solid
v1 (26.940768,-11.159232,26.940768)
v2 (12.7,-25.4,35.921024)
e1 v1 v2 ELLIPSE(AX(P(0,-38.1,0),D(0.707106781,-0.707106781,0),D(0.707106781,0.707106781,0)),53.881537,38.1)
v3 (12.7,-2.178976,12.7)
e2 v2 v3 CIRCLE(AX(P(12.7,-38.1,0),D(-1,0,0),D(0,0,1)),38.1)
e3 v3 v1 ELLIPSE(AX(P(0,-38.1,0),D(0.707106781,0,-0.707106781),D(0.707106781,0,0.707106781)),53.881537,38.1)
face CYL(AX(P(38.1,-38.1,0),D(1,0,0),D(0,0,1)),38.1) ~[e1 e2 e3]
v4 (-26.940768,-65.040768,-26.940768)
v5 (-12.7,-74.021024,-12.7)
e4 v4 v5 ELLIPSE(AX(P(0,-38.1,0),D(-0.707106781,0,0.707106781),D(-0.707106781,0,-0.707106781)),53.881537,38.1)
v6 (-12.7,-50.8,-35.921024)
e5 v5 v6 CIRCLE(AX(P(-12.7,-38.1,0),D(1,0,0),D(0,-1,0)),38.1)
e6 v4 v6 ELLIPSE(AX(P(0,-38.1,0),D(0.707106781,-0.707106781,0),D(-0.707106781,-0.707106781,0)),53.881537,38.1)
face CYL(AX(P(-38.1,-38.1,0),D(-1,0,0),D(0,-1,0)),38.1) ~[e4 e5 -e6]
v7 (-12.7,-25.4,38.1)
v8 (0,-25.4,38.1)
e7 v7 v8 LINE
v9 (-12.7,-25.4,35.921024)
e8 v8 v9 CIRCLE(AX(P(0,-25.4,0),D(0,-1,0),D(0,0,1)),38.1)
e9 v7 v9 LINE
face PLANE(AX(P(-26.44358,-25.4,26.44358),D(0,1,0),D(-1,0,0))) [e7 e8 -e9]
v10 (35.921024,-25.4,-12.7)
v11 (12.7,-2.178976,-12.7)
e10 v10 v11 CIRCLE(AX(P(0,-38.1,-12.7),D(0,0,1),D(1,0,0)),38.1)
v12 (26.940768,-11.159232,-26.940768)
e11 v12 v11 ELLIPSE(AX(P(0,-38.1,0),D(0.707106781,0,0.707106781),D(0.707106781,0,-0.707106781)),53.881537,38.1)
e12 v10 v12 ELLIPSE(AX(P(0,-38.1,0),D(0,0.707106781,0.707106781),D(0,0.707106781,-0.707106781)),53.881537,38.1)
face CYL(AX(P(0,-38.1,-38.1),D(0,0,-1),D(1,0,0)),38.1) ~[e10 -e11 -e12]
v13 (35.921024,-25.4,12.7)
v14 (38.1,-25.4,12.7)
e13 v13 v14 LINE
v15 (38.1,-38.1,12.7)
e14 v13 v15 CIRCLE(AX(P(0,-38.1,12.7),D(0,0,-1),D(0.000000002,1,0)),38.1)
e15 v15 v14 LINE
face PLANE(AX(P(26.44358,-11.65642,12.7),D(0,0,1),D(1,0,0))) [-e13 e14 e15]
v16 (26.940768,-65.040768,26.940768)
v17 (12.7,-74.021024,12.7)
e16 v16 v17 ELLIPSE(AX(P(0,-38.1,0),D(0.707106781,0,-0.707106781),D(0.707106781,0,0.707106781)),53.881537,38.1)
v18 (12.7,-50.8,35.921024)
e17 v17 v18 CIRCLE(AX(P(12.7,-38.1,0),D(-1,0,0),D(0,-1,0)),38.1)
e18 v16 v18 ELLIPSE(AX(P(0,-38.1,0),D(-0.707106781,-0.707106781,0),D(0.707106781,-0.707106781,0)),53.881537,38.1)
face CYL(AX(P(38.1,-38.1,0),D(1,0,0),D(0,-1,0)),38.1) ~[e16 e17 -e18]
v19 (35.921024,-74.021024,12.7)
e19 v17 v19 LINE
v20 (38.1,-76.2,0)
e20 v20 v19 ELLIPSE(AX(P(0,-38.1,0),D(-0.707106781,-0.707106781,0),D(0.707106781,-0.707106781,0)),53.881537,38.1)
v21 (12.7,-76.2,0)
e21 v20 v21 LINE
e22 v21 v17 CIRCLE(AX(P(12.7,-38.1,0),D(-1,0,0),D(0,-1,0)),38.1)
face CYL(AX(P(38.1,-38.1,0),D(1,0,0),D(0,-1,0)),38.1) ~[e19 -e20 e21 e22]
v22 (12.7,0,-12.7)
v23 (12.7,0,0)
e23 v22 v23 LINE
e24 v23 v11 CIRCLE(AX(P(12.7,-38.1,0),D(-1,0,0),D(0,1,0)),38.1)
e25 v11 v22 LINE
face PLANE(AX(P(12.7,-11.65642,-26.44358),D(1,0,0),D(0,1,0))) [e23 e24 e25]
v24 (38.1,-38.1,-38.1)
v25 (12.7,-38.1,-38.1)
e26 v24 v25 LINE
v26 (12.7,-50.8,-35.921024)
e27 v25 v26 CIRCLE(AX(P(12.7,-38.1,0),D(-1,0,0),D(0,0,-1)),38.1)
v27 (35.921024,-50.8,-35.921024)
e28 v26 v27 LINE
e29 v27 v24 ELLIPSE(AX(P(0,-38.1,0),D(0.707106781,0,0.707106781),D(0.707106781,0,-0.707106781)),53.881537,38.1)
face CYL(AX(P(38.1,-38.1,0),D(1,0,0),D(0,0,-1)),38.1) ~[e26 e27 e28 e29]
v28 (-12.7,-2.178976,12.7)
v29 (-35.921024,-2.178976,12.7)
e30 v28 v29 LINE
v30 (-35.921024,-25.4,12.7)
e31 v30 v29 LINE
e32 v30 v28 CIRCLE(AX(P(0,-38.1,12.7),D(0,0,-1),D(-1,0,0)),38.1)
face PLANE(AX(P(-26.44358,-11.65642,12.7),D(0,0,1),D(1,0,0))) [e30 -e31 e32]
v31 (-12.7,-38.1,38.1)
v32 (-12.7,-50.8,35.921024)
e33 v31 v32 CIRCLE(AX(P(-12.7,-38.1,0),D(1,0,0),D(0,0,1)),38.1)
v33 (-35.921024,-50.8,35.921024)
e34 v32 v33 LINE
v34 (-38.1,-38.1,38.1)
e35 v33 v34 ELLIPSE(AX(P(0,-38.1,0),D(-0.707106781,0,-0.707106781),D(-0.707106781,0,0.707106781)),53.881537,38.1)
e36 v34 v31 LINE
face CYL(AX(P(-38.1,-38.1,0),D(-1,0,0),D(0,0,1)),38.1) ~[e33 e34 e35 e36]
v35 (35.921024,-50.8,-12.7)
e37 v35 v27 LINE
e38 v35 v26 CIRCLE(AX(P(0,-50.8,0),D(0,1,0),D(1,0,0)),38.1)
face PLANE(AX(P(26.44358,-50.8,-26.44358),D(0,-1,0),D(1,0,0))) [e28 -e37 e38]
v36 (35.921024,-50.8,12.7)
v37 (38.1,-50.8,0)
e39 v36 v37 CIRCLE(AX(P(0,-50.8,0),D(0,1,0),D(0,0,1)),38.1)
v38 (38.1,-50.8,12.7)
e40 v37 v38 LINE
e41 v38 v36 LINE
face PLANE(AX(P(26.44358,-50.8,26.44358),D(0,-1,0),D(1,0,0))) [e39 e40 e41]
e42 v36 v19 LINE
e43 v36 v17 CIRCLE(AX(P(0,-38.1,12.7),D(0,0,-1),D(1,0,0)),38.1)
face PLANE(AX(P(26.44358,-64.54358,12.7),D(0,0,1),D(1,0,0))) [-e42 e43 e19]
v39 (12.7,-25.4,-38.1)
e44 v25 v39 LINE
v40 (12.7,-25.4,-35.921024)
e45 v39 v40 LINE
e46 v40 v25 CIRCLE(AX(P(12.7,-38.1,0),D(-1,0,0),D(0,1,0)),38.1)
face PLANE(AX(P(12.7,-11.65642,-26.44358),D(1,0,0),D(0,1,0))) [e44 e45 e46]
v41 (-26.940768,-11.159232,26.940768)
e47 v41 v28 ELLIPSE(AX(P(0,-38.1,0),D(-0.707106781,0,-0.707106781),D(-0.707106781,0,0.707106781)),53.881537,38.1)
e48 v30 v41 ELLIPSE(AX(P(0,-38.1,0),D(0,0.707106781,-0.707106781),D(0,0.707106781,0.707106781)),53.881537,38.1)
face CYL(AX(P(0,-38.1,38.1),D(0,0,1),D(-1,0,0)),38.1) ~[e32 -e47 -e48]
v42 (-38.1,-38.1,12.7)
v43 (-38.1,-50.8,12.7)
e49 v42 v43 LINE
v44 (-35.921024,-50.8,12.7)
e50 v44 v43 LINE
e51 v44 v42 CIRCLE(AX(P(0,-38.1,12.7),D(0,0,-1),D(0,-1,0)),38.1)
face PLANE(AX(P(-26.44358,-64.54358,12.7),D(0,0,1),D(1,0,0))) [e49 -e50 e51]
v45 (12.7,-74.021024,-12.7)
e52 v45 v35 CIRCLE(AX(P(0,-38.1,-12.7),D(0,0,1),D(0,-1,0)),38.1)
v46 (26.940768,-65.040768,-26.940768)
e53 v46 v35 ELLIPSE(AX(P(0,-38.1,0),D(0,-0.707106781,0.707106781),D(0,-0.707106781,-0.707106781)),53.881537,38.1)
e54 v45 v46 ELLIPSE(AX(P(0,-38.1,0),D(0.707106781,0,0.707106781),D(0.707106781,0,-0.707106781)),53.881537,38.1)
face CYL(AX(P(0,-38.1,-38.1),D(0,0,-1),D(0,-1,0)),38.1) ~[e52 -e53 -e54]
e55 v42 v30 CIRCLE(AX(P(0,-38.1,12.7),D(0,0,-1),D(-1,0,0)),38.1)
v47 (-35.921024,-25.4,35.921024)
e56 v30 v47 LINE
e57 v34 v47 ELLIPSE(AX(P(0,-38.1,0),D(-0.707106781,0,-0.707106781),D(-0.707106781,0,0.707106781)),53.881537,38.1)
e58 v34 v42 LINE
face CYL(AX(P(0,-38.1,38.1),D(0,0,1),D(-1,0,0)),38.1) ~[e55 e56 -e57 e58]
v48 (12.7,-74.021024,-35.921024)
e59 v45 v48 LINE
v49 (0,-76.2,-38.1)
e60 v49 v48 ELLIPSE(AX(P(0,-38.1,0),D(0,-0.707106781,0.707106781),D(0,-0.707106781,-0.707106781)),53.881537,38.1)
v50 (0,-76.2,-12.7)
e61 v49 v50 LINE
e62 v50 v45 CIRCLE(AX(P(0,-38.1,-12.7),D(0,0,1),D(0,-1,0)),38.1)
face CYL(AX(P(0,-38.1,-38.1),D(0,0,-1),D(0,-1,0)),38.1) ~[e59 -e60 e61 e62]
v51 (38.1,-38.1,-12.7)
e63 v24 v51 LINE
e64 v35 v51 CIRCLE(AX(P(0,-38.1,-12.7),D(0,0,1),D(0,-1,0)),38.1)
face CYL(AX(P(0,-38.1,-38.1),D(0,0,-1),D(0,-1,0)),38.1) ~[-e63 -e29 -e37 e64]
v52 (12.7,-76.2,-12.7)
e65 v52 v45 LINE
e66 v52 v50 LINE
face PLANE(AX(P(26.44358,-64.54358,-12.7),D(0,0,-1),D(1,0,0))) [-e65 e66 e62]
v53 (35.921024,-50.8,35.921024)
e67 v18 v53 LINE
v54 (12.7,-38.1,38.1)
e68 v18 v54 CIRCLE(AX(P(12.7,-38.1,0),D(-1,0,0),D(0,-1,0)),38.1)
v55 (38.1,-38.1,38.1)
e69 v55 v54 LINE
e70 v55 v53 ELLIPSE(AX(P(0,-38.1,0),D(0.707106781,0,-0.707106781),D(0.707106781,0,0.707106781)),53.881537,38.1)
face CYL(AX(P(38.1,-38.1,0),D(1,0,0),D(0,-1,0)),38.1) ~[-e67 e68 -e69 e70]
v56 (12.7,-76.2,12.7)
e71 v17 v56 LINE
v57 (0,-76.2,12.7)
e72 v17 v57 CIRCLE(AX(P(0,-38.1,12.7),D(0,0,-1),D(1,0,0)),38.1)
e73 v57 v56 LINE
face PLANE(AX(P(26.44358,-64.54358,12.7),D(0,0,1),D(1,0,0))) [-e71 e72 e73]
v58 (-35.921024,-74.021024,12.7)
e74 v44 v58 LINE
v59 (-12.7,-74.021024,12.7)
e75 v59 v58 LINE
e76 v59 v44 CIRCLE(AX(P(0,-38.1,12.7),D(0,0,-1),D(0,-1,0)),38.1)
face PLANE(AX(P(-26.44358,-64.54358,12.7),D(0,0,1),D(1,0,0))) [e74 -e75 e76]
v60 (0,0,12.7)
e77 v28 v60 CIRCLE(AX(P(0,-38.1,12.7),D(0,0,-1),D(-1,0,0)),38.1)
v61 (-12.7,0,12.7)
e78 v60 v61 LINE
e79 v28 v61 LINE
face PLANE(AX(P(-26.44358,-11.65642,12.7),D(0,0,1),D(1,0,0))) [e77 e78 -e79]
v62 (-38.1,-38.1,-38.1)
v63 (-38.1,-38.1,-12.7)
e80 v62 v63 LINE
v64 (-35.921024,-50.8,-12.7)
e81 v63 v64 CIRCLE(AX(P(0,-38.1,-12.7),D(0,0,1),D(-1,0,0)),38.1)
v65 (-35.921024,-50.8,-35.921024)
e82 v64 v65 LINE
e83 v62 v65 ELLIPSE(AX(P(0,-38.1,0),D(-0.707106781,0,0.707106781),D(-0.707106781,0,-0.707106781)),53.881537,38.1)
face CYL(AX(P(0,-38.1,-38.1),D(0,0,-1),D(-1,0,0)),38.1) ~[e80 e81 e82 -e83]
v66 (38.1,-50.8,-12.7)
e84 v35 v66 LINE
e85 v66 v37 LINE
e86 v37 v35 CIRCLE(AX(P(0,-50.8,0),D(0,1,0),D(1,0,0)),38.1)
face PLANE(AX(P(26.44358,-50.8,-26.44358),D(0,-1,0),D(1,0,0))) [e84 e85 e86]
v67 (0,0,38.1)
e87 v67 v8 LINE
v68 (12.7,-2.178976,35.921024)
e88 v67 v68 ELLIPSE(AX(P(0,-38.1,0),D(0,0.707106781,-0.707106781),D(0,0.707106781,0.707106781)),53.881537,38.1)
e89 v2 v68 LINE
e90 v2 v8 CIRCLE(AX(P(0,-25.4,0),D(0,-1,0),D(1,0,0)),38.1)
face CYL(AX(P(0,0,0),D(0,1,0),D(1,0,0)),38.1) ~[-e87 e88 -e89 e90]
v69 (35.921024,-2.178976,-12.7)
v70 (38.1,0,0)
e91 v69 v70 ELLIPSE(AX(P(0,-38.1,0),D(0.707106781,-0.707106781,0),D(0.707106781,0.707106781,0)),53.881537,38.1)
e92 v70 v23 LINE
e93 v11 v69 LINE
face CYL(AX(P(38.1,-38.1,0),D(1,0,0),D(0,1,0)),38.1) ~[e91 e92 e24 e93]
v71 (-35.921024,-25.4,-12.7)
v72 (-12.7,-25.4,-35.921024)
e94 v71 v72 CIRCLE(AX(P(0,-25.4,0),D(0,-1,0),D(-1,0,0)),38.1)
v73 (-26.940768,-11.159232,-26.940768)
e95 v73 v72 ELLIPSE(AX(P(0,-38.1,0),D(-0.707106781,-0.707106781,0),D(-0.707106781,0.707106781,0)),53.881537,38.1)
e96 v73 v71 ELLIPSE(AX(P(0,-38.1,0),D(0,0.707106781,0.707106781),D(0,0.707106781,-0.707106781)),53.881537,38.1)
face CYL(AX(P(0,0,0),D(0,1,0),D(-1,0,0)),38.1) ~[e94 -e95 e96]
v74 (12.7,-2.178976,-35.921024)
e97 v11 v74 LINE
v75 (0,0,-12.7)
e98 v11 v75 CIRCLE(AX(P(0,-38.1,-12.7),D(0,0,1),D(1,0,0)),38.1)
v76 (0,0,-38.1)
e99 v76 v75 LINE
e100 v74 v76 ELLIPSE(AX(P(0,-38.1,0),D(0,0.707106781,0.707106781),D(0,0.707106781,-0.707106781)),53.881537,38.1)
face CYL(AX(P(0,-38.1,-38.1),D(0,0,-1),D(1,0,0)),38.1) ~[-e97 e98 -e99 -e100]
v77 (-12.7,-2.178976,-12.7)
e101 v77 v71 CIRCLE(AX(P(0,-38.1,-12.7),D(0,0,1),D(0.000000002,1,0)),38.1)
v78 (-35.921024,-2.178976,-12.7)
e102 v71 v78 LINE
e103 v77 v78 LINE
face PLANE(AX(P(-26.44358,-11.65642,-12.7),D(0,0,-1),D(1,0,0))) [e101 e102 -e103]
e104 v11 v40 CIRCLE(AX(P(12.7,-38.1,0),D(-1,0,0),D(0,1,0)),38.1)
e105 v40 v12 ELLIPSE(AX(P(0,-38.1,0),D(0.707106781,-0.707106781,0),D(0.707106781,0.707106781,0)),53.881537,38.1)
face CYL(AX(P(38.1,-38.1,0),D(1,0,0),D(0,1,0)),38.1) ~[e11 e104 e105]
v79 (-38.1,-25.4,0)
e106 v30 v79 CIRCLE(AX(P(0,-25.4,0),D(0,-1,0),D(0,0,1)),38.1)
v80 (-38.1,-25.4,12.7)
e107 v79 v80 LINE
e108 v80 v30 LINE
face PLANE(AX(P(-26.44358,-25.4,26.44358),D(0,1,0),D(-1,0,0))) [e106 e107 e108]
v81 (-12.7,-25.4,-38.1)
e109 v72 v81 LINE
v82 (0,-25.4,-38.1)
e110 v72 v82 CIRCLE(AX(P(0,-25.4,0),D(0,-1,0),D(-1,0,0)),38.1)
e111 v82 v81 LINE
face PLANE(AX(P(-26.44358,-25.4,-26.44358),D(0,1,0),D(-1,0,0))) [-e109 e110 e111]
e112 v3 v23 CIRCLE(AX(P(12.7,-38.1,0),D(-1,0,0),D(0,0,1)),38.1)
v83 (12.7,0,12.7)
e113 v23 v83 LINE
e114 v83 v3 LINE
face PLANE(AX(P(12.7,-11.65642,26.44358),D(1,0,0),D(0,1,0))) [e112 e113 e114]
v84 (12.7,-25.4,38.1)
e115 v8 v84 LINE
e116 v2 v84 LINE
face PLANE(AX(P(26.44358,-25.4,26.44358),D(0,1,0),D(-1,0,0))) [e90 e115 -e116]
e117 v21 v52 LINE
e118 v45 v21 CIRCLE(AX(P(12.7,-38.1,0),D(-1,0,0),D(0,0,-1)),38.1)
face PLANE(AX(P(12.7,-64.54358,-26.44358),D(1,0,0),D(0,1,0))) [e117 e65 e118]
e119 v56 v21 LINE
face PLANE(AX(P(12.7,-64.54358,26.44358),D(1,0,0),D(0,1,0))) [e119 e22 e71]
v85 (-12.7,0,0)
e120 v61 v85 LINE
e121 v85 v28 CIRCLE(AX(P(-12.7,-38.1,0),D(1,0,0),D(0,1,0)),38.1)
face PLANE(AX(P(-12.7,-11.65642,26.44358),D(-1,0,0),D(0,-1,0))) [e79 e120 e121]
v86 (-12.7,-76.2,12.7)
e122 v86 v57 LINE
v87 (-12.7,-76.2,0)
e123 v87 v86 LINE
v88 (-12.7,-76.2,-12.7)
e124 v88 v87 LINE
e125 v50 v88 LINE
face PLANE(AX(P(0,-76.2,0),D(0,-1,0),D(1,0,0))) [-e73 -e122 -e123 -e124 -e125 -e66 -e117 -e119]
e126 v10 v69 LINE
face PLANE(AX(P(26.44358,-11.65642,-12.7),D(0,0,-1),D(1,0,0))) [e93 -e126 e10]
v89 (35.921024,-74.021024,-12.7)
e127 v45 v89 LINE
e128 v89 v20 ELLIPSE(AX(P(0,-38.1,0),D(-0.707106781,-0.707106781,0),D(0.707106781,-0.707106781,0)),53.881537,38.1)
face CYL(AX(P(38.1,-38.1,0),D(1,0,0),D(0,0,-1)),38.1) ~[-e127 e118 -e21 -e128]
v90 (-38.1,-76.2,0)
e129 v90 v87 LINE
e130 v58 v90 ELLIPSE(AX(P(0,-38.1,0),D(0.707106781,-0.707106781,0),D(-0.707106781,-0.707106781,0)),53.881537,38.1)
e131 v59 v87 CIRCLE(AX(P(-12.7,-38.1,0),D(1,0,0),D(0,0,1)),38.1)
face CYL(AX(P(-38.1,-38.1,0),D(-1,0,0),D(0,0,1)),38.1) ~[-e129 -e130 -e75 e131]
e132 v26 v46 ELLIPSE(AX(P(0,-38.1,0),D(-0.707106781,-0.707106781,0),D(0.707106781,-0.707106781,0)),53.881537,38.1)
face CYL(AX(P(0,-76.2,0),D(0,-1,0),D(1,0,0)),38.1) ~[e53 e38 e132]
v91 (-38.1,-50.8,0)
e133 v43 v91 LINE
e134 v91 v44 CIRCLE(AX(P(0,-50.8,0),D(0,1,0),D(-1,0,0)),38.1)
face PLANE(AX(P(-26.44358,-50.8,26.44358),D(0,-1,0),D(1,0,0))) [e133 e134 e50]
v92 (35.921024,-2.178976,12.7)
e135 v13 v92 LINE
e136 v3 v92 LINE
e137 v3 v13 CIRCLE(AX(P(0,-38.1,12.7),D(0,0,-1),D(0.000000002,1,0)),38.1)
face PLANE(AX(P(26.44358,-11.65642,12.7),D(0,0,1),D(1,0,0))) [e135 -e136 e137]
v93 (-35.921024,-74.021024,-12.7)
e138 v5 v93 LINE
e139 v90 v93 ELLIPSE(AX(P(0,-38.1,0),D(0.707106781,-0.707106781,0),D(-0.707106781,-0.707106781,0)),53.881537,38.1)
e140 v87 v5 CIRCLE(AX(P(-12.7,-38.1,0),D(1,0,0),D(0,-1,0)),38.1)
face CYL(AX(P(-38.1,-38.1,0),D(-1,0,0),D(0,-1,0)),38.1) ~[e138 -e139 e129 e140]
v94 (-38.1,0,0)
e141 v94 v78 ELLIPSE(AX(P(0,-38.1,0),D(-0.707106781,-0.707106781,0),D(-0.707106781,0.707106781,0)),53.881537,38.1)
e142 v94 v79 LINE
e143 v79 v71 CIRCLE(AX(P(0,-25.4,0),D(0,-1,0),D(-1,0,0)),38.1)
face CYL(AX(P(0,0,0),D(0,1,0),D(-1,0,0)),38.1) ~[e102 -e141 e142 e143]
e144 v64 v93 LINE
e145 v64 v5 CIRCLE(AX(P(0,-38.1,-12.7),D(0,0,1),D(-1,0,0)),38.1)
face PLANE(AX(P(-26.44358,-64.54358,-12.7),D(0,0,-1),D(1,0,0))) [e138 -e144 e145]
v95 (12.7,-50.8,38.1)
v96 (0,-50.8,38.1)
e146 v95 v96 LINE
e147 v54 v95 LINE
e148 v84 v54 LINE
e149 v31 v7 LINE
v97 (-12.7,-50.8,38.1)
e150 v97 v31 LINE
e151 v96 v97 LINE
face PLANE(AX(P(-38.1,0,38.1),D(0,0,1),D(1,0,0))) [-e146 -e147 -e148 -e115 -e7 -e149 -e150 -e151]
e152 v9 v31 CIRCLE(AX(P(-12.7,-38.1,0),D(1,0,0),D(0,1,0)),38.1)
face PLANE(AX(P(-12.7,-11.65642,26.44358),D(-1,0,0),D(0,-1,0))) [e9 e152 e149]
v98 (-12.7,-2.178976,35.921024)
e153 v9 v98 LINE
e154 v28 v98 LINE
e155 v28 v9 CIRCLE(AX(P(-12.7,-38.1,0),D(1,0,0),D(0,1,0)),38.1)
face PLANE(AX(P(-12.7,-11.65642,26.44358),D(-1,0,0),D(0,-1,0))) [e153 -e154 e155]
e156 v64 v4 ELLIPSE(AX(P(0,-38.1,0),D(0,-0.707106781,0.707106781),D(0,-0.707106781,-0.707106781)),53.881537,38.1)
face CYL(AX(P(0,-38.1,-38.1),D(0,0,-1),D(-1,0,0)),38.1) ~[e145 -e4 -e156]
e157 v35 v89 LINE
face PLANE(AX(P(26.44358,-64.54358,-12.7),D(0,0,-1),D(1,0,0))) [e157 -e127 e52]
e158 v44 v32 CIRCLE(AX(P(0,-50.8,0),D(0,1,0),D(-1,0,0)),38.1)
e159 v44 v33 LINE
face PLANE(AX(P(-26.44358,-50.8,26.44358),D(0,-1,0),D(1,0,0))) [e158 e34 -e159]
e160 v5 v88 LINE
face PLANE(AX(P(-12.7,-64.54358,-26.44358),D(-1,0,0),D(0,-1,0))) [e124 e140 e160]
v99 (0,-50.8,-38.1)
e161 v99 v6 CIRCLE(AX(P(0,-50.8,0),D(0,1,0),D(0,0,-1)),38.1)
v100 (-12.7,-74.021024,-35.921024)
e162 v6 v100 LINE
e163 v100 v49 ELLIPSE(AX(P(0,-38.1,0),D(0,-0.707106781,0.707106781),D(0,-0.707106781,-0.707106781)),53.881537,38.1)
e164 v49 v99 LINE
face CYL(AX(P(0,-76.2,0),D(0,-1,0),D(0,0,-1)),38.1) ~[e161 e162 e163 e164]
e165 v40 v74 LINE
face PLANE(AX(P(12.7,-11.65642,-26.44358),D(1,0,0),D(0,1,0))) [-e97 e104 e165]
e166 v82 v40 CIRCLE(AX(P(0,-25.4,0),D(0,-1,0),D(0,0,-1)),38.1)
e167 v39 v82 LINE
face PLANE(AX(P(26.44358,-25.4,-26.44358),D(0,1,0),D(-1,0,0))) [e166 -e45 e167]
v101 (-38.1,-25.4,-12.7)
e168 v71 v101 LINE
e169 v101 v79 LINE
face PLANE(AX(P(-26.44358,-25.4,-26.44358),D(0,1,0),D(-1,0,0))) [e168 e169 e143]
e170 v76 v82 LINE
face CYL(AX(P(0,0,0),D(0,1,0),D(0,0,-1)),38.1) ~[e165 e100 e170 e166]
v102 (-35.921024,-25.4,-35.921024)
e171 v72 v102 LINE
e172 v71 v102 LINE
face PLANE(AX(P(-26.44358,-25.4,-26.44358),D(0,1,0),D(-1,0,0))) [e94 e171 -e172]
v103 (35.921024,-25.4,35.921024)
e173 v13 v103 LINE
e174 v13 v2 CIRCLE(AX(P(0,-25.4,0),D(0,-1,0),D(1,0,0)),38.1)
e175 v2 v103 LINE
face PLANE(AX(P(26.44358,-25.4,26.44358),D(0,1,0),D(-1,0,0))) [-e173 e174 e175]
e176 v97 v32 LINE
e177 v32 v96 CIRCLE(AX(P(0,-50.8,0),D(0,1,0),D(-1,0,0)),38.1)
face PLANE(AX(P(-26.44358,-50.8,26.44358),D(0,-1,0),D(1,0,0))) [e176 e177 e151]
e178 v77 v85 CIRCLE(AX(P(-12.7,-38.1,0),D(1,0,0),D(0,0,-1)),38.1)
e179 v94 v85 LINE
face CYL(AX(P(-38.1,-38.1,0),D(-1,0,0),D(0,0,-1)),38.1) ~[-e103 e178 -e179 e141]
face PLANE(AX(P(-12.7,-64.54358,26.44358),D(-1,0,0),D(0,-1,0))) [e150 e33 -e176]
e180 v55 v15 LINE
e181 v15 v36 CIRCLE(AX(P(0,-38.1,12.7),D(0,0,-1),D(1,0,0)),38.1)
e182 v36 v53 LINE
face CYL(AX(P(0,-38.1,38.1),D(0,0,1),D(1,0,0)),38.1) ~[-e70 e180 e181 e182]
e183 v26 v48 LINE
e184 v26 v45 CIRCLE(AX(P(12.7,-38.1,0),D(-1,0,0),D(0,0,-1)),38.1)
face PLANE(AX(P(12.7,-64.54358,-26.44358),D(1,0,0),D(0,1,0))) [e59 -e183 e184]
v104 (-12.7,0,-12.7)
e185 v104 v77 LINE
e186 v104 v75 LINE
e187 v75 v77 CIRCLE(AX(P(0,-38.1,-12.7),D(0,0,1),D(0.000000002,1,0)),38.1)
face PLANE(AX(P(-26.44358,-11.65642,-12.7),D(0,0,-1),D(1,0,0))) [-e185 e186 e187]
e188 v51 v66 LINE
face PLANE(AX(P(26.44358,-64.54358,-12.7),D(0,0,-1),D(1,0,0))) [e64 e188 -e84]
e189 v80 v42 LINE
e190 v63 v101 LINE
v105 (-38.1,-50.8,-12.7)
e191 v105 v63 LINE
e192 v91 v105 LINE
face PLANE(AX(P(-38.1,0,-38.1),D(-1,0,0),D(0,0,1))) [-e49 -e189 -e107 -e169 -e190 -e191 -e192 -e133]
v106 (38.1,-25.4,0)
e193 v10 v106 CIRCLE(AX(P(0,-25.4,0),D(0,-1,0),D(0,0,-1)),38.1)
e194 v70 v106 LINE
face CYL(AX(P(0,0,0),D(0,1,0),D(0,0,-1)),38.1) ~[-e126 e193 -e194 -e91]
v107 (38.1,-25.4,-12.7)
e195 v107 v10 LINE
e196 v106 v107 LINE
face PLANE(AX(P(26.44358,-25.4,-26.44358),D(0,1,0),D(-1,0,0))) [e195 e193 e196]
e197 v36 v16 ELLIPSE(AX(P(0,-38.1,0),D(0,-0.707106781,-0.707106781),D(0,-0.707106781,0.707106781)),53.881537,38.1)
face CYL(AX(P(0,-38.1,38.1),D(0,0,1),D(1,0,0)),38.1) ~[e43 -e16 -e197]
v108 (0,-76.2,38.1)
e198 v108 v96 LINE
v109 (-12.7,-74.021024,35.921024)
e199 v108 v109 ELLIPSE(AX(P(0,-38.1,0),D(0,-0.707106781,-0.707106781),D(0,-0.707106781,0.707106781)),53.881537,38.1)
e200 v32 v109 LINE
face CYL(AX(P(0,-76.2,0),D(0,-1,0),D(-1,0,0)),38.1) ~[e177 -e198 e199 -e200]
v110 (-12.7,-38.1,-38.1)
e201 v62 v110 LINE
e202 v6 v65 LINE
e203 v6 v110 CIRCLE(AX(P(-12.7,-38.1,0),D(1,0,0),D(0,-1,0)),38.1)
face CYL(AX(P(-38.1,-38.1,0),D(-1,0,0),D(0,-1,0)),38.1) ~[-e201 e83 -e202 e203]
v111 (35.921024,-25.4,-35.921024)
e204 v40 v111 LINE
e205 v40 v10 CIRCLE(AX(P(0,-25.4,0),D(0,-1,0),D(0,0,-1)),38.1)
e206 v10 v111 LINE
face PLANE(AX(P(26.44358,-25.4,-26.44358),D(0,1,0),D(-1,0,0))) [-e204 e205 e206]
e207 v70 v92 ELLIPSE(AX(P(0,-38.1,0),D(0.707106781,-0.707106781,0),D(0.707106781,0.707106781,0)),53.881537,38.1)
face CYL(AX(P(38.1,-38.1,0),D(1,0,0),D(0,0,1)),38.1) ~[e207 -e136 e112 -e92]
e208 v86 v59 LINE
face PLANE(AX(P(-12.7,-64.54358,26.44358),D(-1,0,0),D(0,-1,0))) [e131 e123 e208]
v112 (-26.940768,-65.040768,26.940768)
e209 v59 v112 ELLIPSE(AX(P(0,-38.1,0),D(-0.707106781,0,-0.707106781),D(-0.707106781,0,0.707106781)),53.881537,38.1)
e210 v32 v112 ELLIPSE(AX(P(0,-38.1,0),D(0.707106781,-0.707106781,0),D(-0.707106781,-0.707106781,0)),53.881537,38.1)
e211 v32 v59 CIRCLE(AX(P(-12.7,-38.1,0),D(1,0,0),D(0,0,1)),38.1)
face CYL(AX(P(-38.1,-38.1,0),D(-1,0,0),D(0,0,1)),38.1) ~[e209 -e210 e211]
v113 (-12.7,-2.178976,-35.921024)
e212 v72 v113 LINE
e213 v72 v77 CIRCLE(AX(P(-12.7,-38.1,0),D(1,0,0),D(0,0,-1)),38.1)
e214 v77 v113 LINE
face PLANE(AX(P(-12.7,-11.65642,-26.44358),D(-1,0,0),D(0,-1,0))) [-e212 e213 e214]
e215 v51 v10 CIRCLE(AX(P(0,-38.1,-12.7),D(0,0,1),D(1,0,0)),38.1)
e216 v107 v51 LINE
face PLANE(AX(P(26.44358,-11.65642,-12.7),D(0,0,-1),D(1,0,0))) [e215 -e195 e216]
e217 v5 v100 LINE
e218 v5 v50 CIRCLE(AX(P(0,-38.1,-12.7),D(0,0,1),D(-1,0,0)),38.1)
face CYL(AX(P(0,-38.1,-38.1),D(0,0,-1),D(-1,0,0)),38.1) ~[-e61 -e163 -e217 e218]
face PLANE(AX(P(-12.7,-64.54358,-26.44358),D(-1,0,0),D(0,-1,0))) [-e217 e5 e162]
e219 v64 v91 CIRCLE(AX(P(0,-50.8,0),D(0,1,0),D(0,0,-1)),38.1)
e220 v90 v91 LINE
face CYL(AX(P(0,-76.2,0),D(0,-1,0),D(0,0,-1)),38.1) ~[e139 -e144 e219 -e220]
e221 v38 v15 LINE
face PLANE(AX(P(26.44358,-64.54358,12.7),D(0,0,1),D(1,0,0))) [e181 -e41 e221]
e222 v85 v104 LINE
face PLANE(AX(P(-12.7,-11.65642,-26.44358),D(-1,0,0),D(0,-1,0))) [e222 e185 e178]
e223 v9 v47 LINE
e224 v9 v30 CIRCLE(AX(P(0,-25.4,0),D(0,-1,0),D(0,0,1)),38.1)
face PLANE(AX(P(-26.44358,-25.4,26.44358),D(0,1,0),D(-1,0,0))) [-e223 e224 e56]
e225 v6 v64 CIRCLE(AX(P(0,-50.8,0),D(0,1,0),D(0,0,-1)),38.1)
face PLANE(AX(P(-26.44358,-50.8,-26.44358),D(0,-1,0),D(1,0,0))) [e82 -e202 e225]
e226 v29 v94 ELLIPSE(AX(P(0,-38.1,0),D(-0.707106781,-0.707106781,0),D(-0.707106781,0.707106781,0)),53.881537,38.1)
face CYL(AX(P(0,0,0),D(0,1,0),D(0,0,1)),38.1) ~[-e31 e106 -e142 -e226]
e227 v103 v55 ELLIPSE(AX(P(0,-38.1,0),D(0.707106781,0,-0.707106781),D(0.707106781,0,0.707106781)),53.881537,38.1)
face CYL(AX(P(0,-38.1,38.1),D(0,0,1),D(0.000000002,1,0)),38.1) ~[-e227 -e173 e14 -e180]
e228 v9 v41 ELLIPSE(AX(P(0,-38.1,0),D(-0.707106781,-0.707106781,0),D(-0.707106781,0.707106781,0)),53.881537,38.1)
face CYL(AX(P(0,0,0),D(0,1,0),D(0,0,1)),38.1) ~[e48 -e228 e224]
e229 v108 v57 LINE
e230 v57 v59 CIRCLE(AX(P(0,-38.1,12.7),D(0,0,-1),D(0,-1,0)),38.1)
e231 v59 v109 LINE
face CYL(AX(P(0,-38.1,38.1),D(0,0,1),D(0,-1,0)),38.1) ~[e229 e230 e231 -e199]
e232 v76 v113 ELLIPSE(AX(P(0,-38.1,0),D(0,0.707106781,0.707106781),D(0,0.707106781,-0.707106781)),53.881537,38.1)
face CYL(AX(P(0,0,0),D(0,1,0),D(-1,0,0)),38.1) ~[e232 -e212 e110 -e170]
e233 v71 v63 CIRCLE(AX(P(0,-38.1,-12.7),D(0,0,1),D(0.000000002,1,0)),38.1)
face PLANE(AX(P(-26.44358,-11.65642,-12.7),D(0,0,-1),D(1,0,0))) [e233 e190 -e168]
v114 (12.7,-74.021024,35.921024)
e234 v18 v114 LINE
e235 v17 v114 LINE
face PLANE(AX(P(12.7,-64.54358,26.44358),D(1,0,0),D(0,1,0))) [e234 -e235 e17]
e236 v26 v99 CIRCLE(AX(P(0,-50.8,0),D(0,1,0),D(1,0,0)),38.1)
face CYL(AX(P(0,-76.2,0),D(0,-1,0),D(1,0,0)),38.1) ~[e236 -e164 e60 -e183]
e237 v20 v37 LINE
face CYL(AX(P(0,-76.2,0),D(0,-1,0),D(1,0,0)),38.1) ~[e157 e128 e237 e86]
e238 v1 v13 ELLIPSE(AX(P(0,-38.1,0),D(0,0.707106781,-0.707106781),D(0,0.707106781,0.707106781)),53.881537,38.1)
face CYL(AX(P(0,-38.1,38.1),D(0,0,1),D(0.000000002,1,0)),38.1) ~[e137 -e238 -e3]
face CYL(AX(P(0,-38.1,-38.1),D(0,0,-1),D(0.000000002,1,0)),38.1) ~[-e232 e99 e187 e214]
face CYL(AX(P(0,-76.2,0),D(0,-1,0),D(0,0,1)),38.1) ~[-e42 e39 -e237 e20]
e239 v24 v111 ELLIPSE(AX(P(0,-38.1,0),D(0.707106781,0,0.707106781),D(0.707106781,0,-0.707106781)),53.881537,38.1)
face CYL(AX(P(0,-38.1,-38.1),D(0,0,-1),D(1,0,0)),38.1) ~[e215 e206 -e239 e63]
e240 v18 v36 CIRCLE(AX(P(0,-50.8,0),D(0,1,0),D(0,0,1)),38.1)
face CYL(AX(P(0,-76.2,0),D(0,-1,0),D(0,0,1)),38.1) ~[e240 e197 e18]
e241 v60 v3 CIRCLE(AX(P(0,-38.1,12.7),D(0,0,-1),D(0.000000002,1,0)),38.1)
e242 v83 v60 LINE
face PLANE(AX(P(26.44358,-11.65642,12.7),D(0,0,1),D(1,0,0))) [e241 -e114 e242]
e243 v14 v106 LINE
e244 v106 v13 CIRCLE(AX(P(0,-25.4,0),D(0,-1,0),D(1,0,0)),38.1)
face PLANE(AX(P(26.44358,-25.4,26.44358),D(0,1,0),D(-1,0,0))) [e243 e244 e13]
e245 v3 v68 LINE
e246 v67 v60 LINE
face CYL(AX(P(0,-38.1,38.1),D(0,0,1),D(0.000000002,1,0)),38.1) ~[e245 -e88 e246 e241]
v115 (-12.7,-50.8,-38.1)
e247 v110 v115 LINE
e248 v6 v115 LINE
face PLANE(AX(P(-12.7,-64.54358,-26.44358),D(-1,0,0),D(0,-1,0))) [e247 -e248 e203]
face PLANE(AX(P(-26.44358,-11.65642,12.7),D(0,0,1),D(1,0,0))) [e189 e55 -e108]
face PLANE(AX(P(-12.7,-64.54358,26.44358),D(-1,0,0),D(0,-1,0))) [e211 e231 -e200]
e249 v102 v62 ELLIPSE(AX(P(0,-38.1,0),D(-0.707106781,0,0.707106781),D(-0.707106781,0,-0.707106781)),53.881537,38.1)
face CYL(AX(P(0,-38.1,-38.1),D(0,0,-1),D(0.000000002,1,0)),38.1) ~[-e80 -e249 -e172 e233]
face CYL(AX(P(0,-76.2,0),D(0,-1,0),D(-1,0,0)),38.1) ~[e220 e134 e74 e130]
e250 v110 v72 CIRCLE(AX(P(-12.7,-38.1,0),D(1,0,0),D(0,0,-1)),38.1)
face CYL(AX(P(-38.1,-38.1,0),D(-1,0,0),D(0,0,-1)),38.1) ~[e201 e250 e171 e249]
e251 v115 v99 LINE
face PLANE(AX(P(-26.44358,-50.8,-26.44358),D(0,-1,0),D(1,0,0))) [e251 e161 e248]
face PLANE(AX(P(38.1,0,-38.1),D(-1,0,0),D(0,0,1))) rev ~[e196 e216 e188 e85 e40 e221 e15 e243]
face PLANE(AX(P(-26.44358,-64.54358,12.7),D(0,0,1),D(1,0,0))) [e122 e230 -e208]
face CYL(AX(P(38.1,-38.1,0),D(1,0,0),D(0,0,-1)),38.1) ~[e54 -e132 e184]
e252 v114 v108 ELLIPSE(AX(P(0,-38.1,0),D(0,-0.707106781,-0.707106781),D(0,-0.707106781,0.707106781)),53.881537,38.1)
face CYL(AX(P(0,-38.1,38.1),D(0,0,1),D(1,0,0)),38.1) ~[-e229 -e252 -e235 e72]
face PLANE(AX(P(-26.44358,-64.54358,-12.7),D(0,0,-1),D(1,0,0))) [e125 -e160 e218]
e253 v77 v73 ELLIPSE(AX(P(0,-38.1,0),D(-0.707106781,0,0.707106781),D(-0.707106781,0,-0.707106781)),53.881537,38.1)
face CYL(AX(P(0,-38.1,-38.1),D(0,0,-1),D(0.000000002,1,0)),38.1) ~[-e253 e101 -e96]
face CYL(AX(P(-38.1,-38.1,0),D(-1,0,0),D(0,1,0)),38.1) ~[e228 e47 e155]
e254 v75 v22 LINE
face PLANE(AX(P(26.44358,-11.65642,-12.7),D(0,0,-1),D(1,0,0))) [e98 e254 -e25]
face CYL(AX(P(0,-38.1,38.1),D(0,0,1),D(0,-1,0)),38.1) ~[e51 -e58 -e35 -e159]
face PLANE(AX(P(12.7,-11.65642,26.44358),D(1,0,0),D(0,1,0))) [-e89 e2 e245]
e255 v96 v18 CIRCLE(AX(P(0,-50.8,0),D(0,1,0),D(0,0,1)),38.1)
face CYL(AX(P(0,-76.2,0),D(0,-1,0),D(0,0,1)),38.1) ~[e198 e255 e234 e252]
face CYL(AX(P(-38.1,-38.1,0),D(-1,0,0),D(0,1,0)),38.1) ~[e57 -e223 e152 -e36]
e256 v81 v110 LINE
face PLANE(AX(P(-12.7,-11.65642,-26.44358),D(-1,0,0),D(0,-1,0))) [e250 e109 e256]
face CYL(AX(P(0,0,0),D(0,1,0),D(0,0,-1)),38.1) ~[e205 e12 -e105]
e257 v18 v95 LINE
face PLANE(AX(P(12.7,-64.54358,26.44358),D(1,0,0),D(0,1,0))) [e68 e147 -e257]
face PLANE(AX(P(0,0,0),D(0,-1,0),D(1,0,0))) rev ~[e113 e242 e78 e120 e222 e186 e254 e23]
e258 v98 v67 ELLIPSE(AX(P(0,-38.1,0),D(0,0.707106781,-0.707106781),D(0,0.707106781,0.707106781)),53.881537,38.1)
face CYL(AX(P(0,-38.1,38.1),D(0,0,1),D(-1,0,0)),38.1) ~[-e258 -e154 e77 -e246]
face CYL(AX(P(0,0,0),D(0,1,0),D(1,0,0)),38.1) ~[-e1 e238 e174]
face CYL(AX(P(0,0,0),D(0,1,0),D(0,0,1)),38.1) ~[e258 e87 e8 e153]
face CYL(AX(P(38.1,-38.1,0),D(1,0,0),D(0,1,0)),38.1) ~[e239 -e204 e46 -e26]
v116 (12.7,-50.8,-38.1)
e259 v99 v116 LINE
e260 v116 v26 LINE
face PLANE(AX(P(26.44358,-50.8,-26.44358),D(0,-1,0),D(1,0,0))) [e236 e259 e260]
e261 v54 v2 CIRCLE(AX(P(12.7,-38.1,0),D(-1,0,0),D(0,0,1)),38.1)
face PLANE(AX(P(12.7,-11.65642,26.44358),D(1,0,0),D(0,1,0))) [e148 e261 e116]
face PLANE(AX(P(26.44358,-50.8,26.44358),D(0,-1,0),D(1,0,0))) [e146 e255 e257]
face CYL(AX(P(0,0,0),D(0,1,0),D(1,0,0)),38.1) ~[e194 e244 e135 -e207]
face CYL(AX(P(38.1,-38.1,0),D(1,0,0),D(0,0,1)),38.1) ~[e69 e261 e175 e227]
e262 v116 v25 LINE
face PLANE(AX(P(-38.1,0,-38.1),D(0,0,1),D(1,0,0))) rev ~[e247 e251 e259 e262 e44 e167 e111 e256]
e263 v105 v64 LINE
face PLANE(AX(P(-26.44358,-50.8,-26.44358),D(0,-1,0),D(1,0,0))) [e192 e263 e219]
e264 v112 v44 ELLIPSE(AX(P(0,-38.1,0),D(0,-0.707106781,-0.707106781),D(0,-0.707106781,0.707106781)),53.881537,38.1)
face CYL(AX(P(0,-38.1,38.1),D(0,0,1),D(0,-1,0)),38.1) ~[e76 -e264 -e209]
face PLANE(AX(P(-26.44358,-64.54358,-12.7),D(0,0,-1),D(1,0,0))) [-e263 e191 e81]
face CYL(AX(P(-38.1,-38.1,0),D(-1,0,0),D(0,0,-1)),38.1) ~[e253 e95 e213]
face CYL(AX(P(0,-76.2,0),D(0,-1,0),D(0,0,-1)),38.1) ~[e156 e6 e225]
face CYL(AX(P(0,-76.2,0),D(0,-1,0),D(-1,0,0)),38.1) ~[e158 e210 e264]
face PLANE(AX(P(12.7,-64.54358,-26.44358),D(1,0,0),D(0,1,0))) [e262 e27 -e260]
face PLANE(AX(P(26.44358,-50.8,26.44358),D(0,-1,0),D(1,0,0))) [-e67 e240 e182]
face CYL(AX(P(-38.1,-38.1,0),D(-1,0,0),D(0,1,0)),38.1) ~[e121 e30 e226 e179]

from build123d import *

# Parameters (mm, degrees)
F0_W      = 76.2
F0_H      = 76.2
F1_DEPTH  = 76.2
F4_DEPTH  = 76.2
F5_DEPTH  = 76.2
F8_DEPTH  = 76.2
F9_DEPTH  = 76.2
F11_DEPTH = 76.2
F13_DEPTH = 76.2
F14_DEPTH = 25.4
F15_DEPTH = 25.4
F16_DEPTH = 25.4
F17_DEPTH = 25.4
F18_DEPTH = 25.4
F19_DEPTH = 25.4
F20_DEPTH = 25.4
F21_DEPTH = 25.4
F22_DEPTH = 25.4


with BuildPart() as f1:
    # F0 (on Front) → F1 (new body)
    with BuildSketch(Plane.XZ):
        Rectangle(F0_W, F0_H)
    extrude(amount=F1_DEPTH)

    # F2 (on face) → F4 (join)
    with BuildSketch(Plane.XZ.offset(76.2)):
        with BuildLine():
            ThreePointArc((0, -38.1), (26.9407683632, -26.9407683632), (38.1, 0))
            ThreePointArc((38.1, 0), (26.9407683632, 26.9407683632), (0, 38.1))
            ThreePointArc((0, 38.1), (-26.9407683632, 26.9407683632), (-38.1, 0))
            ThreePointArc((-38.1, 0), (-26.9407683632, -26.9407683632), (0, -38.1))
        make_face()
    extrude(amount=-F4_DEPTH)

    # F3 (on face) → F5 (join)
    with BuildSketch(Plane.YZ.offset(38.1)):
        with BuildLine():
            ThreePointArc((-38.1, -38.1), (-11.1592316368, -26.9407683632), (0, 0))
            ThreePointArc((0, 0), (-11.1592316368, 26.9407683632), (-38.1, 38.1))
            ThreePointArc((-38.1, 38.1), (-65.0407683632, 26.9407683632), (-76.2, 0))
            ThreePointArc((-76.2, 0), (-65.0407683632, -26.9407683632), (-38.1, -38.1))
        make_face()
    extrude(amount=-F5_DEPTH)

    # F7 (on face) → F8 (join)
    with BuildSketch(Plane(origin=(0, 0, 0), x_dir=(-1, 0, 0), z_dir=(0, 1, 0))):
        with BuildLine():
            ThreePointArc((0, -38.1), (26.9407683632, -26.9407683632), (38.1, 0))
            ThreePointArc((38.1, 0), (26.9407683632, 26.9407683632), (0, 38.1))
            ThreePointArc((0, 38.1), (-26.9407683632, 26.9407683632), (-38.1, 0))
            ThreePointArc((-38.1, 0), (-26.9407683632, -26.9407683632), (0, -38.1))
        make_face()
    extrude(amount=-F8_DEPTH)



with BuildPart() as f9:
    # F6 (on face) → F9 (new body)
    with BuildSketch(Plane(origin=(-38.1, 0, 0), x_dir=(0, -1, 0), z_dir=(-1, 0, 0))):
        with BuildLine():
            ThreePointArc((38.1, -38.1), (65.0407683632, -26.9407683632), (76.2, 0))
            ThreePointArc((76.2, 0), (65.0407683632, 26.9407683632), (38.1, 38.1))
            ThreePointArc((38.1, 38.1), (11.1592316368, 26.9407683632), (0, 0))
            ThreePointArc((0, 0), (11.1592316368, -26.9407683632), (38.1, -38.1))
        make_face()
    extrude(amount=-F9_DEPTH)


with BuildPart() as f1_1:
    add(f1.part)

    add(f9.part)  # F11 merges F9
    # F10 (on face) → F11 (join)
    with BuildSketch(Plane.XY.offset(38.1)):
        with BuildLine():
            ThreePointArc((0, -76.2), (26.9407683632, -65.0407683632), (38.1, -38.1))
            ThreePointArc((38.1, -38.1), (26.9407683839, -11.1592316575), (5.86e-08, 0))
            ThreePointArc((5.86e-08, 0), (-26.9407683425, -11.1592316161), (-38.1, -38.1))
            ThreePointArc((-38.1, -38.1), (-26.9407683632, -65.0407683632), (0, -76.2))
        make_face()
    extrude(amount=-F11_DEPTH)

    # F12 (on face) → F13 (join)
    with BuildSketch(Plane(origin=(0, 0, -38.1), x_dir=(1, 0, 0), z_dir=(0, 0, -1))):
        with BuildLine():
            ThreePointArc((8.43e-08, 0), (26.940768393, 11.1592316666), (38.1, 38.1))
            ThreePointArc((38.1, 38.1), (26.9407683632, 65.0407683632), (0, 76.2))
            ThreePointArc((0, 76.2), (-26.9407683632, 65.0407683632), (-38.1, 38.1))
            ThreePointArc((-38.1, 38.1), (-26.9407683334, 11.159231607), (8.43e-08, 0))
        make_face()
    extrude(amount=-F13_DEPTH)

    # F2 (on face) → F14 (cut)
    with BuildSketch(Plane.XZ.offset(76.2)):
        with BuildLine():
            ThreePointArc((0, 38.1), (26.9407683632, 26.9407683632), (38.1, 0))
            Line((38.1, 0), (38.1, 38.1))
            Line((38.1, 38.1), (0, 38.1))
        make_face()
    extrude(amount=-F14_DEPTH, mode=Mode.SUBTRACT)

    # F2 (on face) → F15 (cut)
    with BuildSketch(Plane.XZ.offset(76.2)):
        with BuildLine():
            ThreePointArc((-38.1, 0), (-26.9407683632, 26.9407683632), (0, 38.1))
            Line((0, 38.1), (-38.1, 38.1))
            Line((-38.1, 38.1), (-38.1, 0))
        make_face()
    extrude(amount=-F15_DEPTH, mode=Mode.SUBTRACT)

    # F2 (on face) → F16 (cut)
    with BuildSketch(Plane.XZ.offset(76.2)):
        with BuildLine():
            Line((38.1, -38.1), (38.1, 0))
            ThreePointArc((38.1, 0), (26.9407683632, -26.9407683632), (0, -38.1))
            Line((0, -38.1), (38.1, -38.1))
        make_face()
        with BuildLine():
            Line((-38.1, -38.1), (0, -38.1))
            ThreePointArc((0, -38.1), (-26.9407683632, -26.9407683632), (-38.1, 0))
            Line((-38.1, 0), (-38.1, -38.1))
        make_face()
    extrude(amount=-F16_DEPTH, mode=Mode.SUBTRACT)

    # F3 (on face) → F17 (cut)
    with BuildSketch(Plane.YZ.offset(38.1)):
        with BuildLine():
            ThreePointArc((-76.2, 0), (-65.0407683632, 26.9407683632), (-38.1, 38.1))
            Line((-38.1, 38.1), (-76.2, 38.1))
            Line((-76.2, 38.1), (-76.2, 0))
        make_face()
    extrude(amount=-F17_DEPTH, mode=Mode.SUBTRACT)

    # F3 (on face) → F18 (cut)
    with BuildSketch(Plane.YZ.offset(38.1)):
        with BuildLine():
            ThreePointArc((-38.1, 38.1), (-11.1592316368, 26.9407683632), (0, 0))
            Line((0, 0), (0, 38.1))
            Line((0, 38.1), (-38.1, 38.1))
        make_face()
        with BuildLine():
            Line((0, -38.1), (0, 0))
            ThreePointArc((0, 0), (-11.1592316368, -26.9407683632), (-38.1, -38.1))
            Line((-38.1, -38.1), (0, -38.1))
        make_face()
        with BuildLine():
            Line((-76.2, -38.1), (-38.1, -38.1))
            ThreePointArc((-38.1, -38.1), (-65.0407683632, -26.9407683632), (-76.2, 0))
            Line((-76.2, 0), (-76.2, -38.1))
        make_face()
        with BuildLine():
            ThreePointArc((-76.2, 0), (-65.0407683632, 26.9407683632), (-38.1, 38.1))
            Line((-38.1, 38.1), (-76.2, 38.1))
            Line((-76.2, 38.1), (-76.2, 0))
        make_face()
    extrude(amount=-F18_DEPTH, mode=Mode.SUBTRACT)

    # F6 (on face) → F19 (cut)
    with BuildSketch(Plane(origin=(-38.1, 0, 0), x_dir=(0, -1, 0), z_dir=(-1, 0, 0))):
        with BuildLine():
            ThreePointArc((0, 0), (11.1592316368, 26.9407683632), (38.1, 38.1))
            Line((38.1, 38.1), (0, 38.1))
            Line((0, 38.1), (0, 0))
        make_face()
        with BuildLine():
            ThreePointArc((38.1, 38.1), (65.0407683632, 26.9407683632), (76.2, 0))
            Line((76.2, 0), (76.2, 38.1))
            Line((76.2, 38.1), (38.1, 38.1))
        make_face()
        with BuildLine():
            Line((76.2, -38.1), (76.2, 0))
            ThreePointArc((76.2, 0), (65.0407683632, -26.9407683632), (38.1, -38.1))
            Line((38.1, -38.1), (76.2, -38.1))
        make_face()
        with BuildLine():
            Line((0, -38.1), (38.1, -38.1))
            ThreePointArc((38.1, -38.1), (11.1592316368, -26.9407683632), (0, 0))
            Line((0, 0), (0, -38.1))
        make_face()
    extrude(amount=-F19_DEPTH, mode=Mode.SUBTRACT)

    # F7 (on face) → F20 (cut)
    with BuildSketch(Plane(origin=(0, 0, 0), x_dir=(-1, 0, 0), z_dir=(0, 1, 0))):
        with BuildLine():
            ThreePointArc((-38.1, 0), (-26.9407683632, 26.9407683632), (0, 38.1))
            Line((0, 38.1), (-38.1, 38.1))
            Line((-38.1, 38.1), (-38.1, 0))
        make_face()
        with BuildLine():
            ThreePointArc((0, 38.1), (26.9407683632, 26.9407683632), (38.1, 0))
            Line((38.1, 0), (38.1, 38.1))
            Line((38.1, 38.1), (0, 38.1))
        make_face()
        with BuildLine():
            Line((38.1, -38.1), (38.1, 0))
            ThreePointArc((38.1, 0), (26.9407683632, -26.9407683632), (0, -38.1))
            Line((0, -38.1), (38.1, -38.1))
        make_face()
        with BuildLine():
            Line((-38.1, -38.1), (0, -38.1))
            ThreePointArc((0, -38.1), (-26.9407683632, -26.9407683632), (-38.1, 0))
            Line((-38.1, 0), (-38.1, -38.1))
        make_face()
    extrude(amount=-F20_DEPTH, mode=Mode.SUBTRACT)

    # F10 (on face) → F21 (cut)
    with BuildSketch(Plane.XY.offset(38.1)):
        with BuildLine():
            ThreePointArc((5.86e-08, 0), (26.9407683839, -11.1592316575), (38.1, -38.1))
            Line((38.1, -38.1), (38.1, 0))
            Line((38.1, 0), (5.86e-08, 0))
        make_face()
        with BuildLine():
            Line((38.1, -76.2), (38.1, -38.1))
            ThreePointArc((38.1, -38.1), (26.9407683632, -65.0407683632), (0, -76.2))
            Line((0, -76.2), (38.1, -76.2))
        make_face()
        with BuildLine():
            Line((-38.1, -76.2), (0, -76.2))
            ThreePointArc((0, -76.2), (-26.9407683632, -65.0407683632), (-38.1, -38.1))
            Line((-38.1, -38.1), (-38.1, -76.2))
        make_face()
        with BuildLine():
            ThreePointArc((-38.1, -38.1), (-26.9407683425, -11.1592316161), (5.86e-08, 0))
            Line((5.86e-08, 0), (-38.1, 0))
            Line((-38.1, 0), (-38.1, -38.1))
        make_face()
    extrude(amount=-F21_DEPTH, mode=Mode.SUBTRACT)

    # F12 (on face) → F22 (cut)
    with BuildSketch(Plane(origin=(0, 0, -38.1), x_dir=(1, 0, 0), z_dir=(0, 0, -1))):
        with BuildLine():
            Line((-38.1, 0), (8.43e-08, 0))
            ThreePointArc((8.43e-08, 0), (-26.9407683334, 11.159231607), (-38.1, 38.1))
            Line((-38.1, 38.1), (-38.1, 0))
        make_face()
        with BuildLine():
            ThreePointArc((-38.1, 38.1), (-26.9407683632, 65.0407683632), (0, 76.2))
            Line((0, 76.2), (-38.1, 76.2))
            Line((-38.1, 76.2), (-38.1, 38.1))
        make_face()
        with BuildLine():
            ThreePointArc((0, 76.2), (26.9407683632, 65.0407683632), (38.1, 38.1))
            Line((38.1, 38.1), (38.1, 76.2))
            Line((38.1, 76.2), (0, 76.2))
        make_face()
        with BuildLine():
            Line((38.1, 0), (38.1, 38.1))
            ThreePointArc((38.1, 38.1), (26.940768393, 11.1592316666), (8.43e-08, 0))
            Line((8.43e-08, 0), (38.1, 0))
        make_face()
    extrude(amount=-F22_DEPTH, mode=Mode.SUBTRACT)


solid = f1_1.part
